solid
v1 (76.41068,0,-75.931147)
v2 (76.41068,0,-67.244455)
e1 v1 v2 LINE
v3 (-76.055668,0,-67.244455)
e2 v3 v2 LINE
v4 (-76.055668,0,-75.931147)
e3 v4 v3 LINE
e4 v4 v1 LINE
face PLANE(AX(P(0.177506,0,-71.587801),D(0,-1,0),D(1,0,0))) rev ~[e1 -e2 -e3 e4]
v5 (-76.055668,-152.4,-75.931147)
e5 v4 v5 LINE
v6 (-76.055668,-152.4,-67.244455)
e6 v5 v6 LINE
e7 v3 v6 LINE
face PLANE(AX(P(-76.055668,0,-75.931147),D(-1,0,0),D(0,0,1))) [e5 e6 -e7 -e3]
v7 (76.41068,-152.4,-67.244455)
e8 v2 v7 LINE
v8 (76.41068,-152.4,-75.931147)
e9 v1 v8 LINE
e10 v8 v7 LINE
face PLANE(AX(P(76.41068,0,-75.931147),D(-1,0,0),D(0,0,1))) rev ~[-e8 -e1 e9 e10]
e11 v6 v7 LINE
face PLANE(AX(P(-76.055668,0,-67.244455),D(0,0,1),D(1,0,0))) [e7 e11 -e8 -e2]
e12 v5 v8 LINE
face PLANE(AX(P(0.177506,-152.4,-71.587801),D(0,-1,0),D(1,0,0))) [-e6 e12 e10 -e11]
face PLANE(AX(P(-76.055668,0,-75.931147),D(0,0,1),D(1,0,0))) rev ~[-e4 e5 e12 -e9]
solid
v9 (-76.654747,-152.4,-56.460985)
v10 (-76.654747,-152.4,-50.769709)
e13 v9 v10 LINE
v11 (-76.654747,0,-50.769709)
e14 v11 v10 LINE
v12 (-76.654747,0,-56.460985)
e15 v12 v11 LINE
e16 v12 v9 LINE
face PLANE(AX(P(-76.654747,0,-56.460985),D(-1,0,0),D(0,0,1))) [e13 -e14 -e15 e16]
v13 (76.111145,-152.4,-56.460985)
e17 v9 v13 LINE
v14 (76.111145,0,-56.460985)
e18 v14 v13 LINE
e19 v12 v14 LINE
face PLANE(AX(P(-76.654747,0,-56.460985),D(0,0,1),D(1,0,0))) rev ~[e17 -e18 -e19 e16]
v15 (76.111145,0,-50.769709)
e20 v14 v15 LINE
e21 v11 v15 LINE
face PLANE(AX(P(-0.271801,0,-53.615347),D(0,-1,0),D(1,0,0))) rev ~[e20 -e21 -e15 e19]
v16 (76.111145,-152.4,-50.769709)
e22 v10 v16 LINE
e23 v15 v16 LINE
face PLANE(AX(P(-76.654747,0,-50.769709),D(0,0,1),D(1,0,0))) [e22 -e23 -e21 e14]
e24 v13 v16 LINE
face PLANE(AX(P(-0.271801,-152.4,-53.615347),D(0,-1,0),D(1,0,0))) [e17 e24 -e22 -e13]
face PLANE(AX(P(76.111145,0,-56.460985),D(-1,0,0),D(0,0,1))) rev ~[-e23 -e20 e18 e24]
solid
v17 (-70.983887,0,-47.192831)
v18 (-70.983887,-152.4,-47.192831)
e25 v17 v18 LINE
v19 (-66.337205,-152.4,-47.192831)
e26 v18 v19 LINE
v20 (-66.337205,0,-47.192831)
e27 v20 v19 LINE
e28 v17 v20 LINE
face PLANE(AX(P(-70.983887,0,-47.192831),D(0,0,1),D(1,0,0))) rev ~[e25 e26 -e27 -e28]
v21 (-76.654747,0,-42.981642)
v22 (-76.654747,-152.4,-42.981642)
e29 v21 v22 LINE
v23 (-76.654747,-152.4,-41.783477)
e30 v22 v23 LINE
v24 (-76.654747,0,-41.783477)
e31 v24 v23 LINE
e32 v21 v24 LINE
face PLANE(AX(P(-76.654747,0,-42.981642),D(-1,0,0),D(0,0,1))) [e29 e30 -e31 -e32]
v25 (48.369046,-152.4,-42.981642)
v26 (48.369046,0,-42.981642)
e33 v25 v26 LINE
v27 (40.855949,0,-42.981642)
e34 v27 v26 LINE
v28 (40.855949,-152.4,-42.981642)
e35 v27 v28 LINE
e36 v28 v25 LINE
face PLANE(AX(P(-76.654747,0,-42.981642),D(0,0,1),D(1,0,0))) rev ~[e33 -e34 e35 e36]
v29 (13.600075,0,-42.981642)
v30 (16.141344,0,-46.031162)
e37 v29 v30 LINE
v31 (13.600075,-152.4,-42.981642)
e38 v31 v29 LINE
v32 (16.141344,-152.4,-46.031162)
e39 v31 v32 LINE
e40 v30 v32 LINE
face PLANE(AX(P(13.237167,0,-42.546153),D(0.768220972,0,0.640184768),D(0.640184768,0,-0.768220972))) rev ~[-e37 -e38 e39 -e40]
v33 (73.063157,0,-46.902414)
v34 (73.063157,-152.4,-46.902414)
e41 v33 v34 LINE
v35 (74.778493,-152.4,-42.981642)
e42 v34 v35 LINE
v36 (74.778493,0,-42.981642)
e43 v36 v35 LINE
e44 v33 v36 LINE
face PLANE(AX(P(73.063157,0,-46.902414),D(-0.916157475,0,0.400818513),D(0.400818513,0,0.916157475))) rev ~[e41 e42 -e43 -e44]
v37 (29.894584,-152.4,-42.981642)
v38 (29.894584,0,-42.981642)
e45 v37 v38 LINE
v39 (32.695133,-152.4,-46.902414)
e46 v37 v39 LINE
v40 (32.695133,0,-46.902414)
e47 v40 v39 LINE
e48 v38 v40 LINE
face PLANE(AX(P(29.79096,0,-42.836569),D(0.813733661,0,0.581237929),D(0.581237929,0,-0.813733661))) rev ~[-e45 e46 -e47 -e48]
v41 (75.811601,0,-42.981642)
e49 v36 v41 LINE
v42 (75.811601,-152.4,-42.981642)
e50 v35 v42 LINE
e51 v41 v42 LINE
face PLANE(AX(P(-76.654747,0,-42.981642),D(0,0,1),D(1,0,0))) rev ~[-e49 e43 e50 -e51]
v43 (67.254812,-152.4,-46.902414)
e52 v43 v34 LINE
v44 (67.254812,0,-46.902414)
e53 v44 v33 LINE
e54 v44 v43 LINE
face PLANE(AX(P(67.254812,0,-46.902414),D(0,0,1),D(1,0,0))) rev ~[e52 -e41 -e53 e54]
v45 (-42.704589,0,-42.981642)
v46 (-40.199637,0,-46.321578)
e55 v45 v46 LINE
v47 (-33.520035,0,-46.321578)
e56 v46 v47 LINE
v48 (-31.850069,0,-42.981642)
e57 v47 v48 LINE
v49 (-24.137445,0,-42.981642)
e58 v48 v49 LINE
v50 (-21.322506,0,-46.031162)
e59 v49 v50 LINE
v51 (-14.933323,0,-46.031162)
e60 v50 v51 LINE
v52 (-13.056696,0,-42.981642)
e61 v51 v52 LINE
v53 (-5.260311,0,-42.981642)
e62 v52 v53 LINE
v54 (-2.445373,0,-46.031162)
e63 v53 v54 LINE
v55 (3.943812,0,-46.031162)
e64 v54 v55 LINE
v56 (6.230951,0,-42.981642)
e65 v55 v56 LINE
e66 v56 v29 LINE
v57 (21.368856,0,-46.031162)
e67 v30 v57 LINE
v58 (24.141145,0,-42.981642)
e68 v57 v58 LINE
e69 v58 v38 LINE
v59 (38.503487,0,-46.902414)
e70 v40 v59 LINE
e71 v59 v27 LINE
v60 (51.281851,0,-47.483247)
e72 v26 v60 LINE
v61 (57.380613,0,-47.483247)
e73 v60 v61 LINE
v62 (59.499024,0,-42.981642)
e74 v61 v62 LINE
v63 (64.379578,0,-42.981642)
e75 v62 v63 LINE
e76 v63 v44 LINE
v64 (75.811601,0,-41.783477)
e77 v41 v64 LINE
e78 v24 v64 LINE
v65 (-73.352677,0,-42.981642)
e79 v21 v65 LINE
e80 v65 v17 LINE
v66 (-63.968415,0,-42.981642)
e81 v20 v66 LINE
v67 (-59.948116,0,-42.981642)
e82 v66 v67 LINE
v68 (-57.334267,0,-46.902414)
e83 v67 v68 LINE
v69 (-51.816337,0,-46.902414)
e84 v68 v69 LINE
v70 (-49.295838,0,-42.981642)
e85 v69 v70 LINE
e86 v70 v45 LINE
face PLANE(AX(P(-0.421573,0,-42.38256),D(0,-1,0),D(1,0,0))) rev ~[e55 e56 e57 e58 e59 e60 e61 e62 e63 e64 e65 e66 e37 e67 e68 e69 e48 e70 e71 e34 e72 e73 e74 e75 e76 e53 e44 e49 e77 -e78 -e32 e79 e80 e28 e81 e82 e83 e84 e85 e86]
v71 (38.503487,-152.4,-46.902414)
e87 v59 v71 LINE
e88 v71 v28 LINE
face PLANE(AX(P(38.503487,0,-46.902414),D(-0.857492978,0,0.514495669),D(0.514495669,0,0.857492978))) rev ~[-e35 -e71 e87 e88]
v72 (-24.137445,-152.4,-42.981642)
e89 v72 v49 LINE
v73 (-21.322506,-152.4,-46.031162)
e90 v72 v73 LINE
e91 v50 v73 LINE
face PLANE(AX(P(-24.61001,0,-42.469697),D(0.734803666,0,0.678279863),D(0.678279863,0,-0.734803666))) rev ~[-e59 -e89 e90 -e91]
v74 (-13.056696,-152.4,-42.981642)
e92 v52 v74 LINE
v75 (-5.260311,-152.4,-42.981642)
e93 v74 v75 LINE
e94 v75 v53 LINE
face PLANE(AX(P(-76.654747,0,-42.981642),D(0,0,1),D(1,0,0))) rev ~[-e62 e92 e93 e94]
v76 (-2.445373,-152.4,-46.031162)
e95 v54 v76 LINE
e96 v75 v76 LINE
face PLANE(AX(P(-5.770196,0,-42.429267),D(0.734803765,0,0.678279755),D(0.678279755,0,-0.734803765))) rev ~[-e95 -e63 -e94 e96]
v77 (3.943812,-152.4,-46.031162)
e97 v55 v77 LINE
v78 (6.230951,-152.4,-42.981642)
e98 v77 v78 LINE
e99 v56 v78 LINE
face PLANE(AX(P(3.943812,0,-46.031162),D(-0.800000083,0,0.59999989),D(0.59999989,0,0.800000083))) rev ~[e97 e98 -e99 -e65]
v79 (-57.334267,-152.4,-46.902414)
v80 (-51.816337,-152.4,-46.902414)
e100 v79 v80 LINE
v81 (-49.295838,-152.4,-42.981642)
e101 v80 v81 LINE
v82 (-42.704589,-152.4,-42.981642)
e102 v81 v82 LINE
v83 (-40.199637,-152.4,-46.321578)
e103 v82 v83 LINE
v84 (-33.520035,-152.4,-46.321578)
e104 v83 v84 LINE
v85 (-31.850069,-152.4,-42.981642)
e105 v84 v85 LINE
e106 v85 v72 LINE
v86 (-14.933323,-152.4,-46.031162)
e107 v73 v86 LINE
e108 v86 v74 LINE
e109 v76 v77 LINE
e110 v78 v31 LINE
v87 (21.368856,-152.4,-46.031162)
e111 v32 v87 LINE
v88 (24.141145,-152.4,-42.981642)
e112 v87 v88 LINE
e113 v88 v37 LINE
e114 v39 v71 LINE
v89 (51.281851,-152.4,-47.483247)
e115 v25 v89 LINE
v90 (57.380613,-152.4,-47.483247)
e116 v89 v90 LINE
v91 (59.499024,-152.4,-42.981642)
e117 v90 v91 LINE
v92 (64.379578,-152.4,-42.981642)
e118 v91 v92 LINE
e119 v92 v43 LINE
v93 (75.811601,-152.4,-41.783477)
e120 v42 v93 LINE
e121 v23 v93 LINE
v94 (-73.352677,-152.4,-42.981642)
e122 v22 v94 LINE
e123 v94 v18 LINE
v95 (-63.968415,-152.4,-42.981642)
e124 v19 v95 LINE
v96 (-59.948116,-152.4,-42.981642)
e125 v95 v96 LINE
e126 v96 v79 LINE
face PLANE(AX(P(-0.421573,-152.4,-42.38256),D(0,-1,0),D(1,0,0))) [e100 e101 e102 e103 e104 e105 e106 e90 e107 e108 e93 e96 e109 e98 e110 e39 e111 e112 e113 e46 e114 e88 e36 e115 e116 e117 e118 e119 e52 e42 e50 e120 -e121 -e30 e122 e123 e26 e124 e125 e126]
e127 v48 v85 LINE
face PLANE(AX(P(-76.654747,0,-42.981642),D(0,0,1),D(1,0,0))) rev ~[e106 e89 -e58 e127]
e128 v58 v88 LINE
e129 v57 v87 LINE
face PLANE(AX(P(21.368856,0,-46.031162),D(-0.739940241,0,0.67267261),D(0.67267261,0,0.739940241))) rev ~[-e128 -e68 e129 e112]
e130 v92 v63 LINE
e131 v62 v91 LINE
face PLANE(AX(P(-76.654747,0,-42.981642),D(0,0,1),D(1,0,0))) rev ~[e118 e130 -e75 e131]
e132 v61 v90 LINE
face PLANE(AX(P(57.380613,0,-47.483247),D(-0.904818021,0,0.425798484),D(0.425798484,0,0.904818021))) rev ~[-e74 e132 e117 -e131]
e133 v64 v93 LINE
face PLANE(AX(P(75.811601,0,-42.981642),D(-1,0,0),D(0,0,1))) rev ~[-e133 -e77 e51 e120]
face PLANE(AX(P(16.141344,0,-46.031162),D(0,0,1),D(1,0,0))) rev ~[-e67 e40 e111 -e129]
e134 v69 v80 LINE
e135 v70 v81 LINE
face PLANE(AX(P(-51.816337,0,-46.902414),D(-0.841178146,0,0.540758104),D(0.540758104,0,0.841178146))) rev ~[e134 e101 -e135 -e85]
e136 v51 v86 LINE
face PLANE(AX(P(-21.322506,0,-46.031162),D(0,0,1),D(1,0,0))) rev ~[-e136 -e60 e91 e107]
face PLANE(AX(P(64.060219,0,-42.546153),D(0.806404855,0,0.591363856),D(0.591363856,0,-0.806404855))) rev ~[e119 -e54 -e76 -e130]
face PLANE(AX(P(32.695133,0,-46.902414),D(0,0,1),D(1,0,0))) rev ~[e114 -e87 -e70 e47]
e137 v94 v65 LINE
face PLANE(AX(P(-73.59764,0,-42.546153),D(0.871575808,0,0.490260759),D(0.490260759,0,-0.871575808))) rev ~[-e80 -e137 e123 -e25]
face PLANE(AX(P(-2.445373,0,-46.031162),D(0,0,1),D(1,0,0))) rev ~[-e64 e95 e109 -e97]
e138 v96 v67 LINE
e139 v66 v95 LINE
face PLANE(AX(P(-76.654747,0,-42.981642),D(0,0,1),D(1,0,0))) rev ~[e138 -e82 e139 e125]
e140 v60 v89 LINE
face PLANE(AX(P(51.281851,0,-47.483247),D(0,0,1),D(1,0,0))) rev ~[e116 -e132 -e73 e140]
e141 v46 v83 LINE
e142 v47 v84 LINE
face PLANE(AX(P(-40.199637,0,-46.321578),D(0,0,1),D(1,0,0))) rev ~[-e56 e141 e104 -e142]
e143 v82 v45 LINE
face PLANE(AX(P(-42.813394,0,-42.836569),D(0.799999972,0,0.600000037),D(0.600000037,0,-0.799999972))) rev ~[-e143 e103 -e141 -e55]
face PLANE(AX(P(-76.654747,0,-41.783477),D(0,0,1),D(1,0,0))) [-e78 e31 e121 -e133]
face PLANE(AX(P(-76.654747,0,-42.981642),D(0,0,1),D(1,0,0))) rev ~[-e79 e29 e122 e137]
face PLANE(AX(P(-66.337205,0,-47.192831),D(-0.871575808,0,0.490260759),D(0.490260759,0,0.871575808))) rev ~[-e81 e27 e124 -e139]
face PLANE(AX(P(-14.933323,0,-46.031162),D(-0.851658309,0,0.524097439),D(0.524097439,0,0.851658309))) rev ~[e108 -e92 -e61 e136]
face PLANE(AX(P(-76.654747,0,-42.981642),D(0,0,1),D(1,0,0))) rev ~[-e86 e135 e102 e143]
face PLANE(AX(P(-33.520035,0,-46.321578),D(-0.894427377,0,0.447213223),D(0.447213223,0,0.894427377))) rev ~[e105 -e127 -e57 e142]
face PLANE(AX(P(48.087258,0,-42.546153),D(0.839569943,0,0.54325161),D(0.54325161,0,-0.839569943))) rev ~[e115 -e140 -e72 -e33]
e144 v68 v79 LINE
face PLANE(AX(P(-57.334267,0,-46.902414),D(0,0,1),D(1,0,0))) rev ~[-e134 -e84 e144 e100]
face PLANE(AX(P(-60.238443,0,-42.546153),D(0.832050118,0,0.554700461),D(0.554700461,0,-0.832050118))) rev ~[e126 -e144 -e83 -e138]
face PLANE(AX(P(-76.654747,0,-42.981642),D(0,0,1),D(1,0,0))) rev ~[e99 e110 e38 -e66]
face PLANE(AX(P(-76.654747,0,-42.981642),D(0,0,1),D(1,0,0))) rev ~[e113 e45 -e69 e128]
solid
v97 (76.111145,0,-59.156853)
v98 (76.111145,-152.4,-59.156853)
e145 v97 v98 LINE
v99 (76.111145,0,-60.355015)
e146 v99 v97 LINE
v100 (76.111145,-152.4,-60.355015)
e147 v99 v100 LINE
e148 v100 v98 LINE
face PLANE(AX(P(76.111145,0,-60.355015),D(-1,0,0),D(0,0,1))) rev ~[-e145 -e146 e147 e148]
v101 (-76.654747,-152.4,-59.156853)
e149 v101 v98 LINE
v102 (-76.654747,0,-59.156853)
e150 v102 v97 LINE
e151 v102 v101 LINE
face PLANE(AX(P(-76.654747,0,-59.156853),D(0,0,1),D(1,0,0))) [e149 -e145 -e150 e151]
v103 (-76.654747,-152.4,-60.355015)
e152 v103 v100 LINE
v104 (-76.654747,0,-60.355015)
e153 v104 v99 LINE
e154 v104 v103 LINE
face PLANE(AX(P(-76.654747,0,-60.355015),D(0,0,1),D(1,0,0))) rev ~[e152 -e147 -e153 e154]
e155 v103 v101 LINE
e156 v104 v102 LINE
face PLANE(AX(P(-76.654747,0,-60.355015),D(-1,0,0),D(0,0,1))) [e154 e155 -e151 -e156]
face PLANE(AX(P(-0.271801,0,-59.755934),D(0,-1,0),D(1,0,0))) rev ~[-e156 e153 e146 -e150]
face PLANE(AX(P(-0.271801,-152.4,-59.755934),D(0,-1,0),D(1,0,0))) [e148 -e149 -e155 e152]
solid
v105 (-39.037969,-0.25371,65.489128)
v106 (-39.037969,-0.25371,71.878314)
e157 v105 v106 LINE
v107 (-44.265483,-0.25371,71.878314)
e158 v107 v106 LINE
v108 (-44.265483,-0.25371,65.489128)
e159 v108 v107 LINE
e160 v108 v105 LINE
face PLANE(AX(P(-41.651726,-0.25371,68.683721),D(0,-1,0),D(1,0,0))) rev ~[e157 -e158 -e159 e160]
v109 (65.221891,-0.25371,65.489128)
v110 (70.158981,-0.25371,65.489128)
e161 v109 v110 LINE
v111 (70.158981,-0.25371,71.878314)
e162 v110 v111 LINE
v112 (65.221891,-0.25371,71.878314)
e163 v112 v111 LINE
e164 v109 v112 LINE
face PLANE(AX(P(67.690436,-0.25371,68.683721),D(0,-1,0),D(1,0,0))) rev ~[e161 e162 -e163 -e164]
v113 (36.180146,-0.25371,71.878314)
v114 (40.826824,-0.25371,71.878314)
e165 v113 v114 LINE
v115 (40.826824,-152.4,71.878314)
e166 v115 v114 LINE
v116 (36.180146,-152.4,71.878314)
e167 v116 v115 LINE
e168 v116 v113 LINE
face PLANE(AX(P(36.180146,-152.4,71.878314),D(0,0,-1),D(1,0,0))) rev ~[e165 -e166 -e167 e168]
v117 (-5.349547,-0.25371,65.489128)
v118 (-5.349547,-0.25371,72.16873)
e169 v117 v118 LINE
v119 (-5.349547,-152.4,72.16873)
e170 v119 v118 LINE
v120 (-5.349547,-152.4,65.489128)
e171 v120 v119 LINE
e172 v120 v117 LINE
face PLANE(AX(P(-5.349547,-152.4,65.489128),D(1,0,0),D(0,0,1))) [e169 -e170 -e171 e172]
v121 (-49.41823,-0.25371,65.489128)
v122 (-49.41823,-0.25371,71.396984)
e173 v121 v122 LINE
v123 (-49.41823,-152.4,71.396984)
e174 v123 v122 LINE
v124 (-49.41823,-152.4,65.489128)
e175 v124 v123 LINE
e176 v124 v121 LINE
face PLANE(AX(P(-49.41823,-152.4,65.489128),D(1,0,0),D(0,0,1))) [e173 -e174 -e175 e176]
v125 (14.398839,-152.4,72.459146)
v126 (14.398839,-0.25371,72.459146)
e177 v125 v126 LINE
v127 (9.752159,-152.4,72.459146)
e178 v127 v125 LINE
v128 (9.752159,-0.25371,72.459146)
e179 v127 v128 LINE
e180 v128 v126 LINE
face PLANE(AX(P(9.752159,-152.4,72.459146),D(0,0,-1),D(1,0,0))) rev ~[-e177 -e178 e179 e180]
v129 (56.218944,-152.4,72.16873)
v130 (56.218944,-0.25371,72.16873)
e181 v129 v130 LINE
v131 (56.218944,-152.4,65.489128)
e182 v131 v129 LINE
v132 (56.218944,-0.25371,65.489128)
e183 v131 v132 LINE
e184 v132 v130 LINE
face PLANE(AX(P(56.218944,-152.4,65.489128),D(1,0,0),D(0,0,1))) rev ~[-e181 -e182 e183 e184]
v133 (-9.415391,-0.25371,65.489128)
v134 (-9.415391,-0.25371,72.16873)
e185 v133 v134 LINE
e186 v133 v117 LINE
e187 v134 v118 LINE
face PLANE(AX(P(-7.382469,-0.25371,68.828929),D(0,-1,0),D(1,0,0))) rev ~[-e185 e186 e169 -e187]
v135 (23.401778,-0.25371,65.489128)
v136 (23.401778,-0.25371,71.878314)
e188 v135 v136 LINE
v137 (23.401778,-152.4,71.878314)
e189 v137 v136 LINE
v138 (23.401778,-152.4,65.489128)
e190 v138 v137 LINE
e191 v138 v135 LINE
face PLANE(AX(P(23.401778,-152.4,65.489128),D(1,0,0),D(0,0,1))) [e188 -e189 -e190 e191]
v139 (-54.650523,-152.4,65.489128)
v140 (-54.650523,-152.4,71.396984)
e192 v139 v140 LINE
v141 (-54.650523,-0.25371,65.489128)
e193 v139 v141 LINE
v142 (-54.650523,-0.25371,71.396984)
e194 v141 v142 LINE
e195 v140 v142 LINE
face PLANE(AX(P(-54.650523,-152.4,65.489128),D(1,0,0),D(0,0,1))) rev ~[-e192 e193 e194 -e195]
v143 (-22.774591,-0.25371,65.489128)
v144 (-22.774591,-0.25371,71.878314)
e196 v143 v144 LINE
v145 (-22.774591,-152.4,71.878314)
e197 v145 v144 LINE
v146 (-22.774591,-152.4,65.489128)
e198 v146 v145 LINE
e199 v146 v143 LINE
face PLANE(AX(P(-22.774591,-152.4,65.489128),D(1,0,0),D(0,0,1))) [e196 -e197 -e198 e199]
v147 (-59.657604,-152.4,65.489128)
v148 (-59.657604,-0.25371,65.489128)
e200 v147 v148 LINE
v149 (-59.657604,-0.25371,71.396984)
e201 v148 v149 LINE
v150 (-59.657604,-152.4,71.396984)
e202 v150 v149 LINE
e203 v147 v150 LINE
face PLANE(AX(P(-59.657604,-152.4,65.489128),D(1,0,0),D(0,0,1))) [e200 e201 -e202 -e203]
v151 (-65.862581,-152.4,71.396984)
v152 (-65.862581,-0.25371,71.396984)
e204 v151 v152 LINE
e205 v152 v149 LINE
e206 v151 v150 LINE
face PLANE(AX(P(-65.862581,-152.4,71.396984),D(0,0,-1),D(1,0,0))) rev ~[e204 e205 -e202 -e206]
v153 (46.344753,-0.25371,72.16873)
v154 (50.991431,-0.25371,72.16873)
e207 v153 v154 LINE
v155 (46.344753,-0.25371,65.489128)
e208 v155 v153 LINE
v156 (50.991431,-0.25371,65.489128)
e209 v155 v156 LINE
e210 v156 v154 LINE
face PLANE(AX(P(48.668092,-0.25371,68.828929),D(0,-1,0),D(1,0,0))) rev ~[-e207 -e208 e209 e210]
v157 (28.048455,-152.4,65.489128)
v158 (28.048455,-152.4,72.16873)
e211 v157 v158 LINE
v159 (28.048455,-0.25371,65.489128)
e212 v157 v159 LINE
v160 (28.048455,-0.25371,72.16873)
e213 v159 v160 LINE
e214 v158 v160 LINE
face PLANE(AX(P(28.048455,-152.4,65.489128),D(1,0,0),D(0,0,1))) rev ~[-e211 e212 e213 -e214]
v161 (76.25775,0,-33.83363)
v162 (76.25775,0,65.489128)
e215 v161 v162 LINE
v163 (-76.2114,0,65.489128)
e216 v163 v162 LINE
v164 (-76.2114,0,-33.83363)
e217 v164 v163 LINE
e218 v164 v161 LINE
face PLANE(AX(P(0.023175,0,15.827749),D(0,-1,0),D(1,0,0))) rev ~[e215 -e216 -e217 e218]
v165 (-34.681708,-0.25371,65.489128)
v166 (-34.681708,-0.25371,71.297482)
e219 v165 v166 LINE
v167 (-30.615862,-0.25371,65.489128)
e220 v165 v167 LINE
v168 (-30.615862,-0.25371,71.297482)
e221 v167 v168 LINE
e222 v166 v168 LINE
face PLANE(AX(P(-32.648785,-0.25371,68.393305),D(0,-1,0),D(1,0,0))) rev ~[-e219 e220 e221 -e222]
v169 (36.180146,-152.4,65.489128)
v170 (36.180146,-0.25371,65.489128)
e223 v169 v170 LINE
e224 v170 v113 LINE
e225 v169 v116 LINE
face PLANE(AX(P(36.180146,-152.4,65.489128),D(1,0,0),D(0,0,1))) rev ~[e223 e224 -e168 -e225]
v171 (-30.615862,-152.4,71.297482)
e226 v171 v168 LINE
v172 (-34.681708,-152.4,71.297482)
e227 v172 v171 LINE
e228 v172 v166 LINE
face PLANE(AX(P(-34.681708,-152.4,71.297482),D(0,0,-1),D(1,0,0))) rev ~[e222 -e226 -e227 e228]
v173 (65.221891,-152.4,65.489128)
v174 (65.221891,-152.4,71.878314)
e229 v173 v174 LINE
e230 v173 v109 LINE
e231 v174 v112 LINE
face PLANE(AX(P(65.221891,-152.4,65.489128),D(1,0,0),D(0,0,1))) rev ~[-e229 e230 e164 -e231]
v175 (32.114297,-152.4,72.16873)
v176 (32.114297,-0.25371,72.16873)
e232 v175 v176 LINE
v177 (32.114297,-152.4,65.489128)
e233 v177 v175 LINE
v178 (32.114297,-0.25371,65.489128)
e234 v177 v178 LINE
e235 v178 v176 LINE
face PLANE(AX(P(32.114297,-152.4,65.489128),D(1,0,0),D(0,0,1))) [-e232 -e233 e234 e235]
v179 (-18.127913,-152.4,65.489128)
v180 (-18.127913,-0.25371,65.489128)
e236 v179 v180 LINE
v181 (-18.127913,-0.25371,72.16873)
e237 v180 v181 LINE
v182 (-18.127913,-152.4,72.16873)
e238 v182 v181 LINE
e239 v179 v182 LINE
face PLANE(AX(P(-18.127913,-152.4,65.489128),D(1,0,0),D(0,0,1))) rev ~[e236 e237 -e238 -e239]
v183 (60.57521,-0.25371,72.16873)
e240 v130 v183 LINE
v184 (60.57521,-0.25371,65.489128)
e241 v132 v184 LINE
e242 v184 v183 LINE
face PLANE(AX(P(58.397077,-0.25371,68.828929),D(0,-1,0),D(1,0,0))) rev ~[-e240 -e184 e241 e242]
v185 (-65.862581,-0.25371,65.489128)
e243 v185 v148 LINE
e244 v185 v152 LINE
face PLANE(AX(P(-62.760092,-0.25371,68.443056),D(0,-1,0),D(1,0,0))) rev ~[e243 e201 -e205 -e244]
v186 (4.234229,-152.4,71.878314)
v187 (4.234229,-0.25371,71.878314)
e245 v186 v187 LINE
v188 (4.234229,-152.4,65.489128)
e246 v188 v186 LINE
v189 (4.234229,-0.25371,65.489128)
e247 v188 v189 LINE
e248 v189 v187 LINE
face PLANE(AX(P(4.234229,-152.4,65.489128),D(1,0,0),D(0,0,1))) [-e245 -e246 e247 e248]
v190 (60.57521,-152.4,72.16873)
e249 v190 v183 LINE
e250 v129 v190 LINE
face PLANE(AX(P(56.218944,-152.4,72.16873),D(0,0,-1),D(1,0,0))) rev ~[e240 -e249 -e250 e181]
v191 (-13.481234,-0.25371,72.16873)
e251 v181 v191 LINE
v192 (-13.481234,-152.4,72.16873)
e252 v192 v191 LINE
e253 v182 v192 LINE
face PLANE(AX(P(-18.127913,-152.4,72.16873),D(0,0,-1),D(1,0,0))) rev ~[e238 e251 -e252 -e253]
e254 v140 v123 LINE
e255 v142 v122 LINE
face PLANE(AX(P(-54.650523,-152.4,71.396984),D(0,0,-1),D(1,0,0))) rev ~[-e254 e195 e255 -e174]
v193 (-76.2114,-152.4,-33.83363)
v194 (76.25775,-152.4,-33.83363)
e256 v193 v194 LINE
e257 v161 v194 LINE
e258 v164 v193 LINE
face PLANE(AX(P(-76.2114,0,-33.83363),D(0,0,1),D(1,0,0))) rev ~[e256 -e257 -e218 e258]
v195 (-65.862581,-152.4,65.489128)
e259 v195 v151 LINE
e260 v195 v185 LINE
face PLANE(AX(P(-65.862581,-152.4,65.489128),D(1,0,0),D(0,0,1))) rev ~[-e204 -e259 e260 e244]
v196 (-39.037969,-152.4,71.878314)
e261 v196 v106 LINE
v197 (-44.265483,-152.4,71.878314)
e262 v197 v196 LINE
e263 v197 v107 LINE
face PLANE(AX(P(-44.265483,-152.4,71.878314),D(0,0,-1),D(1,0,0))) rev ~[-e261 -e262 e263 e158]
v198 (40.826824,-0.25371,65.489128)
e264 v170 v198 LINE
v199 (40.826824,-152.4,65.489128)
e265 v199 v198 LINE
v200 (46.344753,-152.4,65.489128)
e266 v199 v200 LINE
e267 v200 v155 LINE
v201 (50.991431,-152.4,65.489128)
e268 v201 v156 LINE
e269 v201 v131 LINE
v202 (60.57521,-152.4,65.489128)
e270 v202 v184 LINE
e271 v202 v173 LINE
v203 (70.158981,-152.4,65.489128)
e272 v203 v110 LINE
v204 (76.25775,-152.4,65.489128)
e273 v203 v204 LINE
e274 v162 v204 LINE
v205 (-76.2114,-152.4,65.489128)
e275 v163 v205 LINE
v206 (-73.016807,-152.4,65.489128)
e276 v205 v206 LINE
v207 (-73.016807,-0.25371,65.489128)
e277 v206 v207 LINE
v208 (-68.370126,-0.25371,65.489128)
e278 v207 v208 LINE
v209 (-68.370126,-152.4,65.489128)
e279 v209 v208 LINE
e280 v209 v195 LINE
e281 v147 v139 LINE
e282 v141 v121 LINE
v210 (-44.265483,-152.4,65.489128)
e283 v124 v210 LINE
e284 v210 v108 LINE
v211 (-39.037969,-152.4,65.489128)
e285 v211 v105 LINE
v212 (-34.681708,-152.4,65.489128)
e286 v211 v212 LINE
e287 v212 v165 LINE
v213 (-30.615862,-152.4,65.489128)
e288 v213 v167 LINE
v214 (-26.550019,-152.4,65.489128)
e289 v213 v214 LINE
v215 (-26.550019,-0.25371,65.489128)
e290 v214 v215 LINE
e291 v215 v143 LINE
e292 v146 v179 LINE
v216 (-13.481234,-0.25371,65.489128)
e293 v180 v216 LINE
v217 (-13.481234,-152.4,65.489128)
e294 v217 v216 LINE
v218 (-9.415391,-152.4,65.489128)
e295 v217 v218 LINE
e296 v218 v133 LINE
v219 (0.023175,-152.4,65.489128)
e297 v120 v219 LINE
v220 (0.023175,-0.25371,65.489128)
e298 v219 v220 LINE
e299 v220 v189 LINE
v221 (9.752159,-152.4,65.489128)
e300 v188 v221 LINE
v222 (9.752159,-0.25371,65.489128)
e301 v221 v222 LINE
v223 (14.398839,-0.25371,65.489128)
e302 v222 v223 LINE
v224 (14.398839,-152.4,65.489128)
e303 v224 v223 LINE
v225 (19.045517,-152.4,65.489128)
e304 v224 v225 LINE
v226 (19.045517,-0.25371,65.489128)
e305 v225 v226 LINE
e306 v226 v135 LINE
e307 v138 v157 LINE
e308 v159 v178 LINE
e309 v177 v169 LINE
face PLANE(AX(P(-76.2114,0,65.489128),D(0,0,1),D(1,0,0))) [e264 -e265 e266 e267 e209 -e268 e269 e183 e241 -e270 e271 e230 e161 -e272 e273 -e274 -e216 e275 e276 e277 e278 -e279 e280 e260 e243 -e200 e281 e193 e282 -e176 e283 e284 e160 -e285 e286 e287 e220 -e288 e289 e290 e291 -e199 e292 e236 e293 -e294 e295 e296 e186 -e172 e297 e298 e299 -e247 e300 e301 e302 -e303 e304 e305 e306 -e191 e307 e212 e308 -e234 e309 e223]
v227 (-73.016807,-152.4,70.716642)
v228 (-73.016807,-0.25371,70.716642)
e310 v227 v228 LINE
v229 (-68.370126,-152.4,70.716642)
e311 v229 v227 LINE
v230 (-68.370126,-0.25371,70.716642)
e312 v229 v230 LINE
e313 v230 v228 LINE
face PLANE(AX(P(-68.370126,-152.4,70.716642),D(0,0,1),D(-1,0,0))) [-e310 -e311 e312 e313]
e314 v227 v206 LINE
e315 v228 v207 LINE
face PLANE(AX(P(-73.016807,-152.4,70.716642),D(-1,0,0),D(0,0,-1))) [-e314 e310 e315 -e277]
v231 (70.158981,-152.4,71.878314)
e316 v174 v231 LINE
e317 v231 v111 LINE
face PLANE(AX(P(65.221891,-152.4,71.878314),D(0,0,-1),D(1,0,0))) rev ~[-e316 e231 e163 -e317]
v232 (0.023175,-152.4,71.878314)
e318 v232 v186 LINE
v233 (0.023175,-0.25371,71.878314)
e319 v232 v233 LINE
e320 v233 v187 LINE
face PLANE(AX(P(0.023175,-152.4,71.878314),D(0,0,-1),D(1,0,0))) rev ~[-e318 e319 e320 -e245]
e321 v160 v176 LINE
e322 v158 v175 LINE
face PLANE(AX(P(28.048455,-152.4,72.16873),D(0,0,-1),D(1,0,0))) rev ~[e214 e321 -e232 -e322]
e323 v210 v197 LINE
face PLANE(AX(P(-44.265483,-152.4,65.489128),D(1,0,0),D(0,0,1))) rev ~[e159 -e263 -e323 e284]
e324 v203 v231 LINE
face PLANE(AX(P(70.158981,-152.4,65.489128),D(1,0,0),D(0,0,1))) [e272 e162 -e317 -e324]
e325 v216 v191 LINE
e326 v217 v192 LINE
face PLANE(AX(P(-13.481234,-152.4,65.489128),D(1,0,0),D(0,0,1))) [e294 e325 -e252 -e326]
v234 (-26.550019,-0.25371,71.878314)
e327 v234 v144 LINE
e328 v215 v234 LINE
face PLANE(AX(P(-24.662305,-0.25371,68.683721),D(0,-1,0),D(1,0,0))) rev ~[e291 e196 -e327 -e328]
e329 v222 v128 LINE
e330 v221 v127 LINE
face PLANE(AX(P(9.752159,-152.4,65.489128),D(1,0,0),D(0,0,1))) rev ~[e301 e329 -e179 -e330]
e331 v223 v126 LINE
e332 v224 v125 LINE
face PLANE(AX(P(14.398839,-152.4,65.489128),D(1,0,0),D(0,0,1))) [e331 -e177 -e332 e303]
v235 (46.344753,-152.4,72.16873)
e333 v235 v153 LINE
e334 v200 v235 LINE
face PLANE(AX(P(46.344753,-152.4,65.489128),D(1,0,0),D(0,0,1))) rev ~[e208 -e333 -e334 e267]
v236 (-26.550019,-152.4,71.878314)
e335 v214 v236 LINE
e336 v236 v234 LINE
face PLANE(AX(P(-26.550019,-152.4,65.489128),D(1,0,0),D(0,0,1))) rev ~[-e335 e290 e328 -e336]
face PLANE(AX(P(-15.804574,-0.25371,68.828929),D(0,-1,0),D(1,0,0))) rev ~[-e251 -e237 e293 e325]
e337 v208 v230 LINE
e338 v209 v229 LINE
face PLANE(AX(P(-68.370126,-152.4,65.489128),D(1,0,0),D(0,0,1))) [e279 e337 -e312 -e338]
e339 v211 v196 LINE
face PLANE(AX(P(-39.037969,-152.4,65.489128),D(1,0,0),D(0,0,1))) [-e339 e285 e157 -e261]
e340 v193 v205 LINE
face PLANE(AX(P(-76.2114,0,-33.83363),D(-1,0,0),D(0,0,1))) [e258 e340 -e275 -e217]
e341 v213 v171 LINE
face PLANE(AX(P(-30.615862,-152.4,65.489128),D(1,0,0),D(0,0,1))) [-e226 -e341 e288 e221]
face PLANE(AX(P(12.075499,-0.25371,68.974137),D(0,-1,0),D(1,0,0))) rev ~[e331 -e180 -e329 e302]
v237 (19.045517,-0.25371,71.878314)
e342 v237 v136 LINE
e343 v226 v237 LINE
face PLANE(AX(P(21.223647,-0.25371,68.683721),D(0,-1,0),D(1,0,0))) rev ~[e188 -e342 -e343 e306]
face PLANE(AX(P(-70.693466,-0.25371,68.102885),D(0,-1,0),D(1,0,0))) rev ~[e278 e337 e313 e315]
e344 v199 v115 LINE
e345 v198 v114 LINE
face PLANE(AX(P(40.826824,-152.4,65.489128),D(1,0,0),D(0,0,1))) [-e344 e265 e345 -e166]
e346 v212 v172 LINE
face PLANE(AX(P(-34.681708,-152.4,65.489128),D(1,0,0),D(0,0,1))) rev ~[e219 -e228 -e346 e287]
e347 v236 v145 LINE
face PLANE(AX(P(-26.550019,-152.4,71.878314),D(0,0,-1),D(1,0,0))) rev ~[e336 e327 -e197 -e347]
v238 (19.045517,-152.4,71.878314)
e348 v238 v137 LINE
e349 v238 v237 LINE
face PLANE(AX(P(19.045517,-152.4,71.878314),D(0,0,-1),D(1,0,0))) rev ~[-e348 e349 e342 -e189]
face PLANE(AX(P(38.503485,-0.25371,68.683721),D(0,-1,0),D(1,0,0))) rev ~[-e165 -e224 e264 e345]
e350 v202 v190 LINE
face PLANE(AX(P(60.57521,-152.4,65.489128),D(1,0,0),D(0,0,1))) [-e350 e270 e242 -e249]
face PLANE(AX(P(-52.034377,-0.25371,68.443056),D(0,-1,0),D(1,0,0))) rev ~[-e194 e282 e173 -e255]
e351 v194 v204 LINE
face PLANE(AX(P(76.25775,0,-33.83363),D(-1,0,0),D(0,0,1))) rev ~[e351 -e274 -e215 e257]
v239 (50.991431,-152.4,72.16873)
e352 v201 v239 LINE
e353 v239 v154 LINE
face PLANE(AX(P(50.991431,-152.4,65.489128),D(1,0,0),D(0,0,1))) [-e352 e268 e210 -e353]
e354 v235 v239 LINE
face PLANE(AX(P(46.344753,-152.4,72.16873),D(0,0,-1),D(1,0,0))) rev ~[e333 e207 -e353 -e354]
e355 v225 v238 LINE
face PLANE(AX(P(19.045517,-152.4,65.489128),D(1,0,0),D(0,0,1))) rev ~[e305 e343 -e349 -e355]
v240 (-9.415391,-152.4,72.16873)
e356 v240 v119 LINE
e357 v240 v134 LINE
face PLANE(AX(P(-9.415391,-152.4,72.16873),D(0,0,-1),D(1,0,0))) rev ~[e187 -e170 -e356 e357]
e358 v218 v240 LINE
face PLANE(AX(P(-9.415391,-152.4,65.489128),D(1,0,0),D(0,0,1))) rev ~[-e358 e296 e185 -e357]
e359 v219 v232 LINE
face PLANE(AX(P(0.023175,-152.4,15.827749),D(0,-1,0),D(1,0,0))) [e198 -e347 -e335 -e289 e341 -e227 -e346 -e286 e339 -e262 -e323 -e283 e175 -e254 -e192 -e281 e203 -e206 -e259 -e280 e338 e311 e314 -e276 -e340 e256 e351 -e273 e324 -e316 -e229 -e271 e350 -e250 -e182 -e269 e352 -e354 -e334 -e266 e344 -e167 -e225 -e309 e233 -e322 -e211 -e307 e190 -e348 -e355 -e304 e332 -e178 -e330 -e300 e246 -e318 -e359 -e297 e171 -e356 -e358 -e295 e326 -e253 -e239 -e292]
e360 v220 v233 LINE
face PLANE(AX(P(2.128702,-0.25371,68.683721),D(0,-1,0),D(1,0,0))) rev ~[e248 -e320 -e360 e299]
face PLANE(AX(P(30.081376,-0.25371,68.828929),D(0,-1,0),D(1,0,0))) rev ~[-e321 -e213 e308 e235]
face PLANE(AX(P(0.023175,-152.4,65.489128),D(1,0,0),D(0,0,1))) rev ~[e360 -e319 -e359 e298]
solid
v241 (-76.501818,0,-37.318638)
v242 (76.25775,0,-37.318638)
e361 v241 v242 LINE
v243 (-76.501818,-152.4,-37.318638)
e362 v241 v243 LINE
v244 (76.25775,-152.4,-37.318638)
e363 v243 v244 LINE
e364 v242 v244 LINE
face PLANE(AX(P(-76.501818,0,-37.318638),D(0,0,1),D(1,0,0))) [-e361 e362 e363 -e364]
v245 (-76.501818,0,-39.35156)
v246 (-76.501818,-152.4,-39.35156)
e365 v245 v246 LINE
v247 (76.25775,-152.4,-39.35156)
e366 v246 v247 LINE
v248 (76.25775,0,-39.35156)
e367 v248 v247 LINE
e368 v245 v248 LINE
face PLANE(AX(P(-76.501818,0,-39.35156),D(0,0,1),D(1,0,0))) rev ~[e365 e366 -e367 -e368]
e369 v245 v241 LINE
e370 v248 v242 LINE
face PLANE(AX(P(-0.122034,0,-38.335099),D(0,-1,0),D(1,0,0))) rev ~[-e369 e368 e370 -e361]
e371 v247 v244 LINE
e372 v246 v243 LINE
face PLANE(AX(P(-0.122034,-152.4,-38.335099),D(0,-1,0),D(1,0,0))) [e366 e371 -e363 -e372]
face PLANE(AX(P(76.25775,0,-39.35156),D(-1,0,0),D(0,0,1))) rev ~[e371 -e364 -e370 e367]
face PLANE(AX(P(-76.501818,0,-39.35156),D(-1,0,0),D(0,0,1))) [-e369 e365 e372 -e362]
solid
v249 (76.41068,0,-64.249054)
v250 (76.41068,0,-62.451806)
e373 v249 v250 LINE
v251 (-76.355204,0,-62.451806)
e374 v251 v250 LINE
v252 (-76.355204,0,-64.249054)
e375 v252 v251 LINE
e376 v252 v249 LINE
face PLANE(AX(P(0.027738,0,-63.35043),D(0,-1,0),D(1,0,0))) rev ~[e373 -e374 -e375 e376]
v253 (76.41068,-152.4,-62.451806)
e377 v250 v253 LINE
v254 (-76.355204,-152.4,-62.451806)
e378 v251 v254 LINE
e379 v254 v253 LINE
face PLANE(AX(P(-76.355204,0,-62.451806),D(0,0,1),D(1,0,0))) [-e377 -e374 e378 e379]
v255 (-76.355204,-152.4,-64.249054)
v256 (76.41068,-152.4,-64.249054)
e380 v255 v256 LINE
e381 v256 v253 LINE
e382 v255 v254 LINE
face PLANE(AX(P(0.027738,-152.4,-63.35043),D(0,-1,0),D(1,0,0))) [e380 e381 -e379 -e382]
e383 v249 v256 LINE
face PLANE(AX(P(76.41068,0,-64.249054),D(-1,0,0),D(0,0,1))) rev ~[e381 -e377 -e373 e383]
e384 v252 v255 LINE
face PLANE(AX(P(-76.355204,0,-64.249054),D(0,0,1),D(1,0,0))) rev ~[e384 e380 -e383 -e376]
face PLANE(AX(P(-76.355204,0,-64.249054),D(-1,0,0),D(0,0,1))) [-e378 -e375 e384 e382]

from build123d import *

# Parameters (mm, degrees)
F0_W      = 152.466349
F0_H      = 8.686692
F1_DEPTH  = 152.4
F2_W      = 152.765885
F2_H      = 1.797248
F3_DEPTH  = 152.4
F4_W      = 152.765892
F4_H      = 1.198161
F5_DEPTH  = 152.4
F6_W      = 152.765892
F6_H      = 5.691275
F7_DEPTH  = 152.4
F8_W      = 152.466349
F8_H      = 1.198165
F9_DEPTH  = 152.4
F10_W     = 152.759567
F10_H     = 2.032921
F11_DEPTH = 152.4
F12_W     = 152.46915
F12_H     = 99.322758
F13_DEPTH = 152.4
F15_DEPTH = 152.4
F17_DEPTH = 152.4
F18_W     = 4.93709
F18_H     = 6.389186
F18_W_2   = 4.356266
F18_H_2   = 6.679602
F18_W_3   = 4.646678
F18_W_4   = 4.065841
F18_W_5   = 4.356261
F18_W_6   = 4.64668
F18_H_3   = 6.970018
F18_W_7   = 4.211054
F18_W_8   = 4.065844
F18_W_9   = 4.646679
F18_W_10  = 3.775427
F18_W_11  = 4.065846
F18_H_4   = 5.808354
F18_W_12  = 5.227514
F18_W_13  = 5.232293
F18_H_5   = 5.907856
F18_W_14  = 6.204977
F19_DEPTH = 152.14629


with BuildPart() as f1:
    # F0 (on Front) → F1 (new body)
    with BuildSketch(Plane.XZ):
        with Locations((0.177506, -71.587801)):
            Rectangle(F0_W, F0_H)
    extrude(amount=F1_DEPTH)


with BuildPart() as f3:
    # F2 (on Front) → F3 (new body)
    with BuildSketch(Plane.XZ):
        with Locations((0.027738, -63.35043)):
            Rectangle(F2_W, F2_H)
    extrude(amount=F3_DEPTH)


with BuildPart() as f5:
    # F4 (on Front) → F5 (new body)
    with BuildSketch(Plane.XZ):
        with Locations((-0.271801, -59.755934)):
            Rectangle(F4_W, F4_H)
    extrude(amount=F5_DEPTH)


with BuildPart() as f7:
    # F6 (on Front) → F7 (new body)
    with BuildSketch(Plane.XZ):
        with Locations((-0.271801, -53.615347)):
            Rectangle(F6_W, F6_H)
    extrude(amount=F7_DEPTH)


with BuildPart() as f9:
    # F8 (on Front) → F9 (new body)
    with BuildSketch(Plane.XZ):
        with Locations((-0.421573, -42.38256)):
            Rectangle(F8_W, F8_H)
    extrude(amount=F9_DEPTH)

    # F14 (on Front) → F15 (join)
    with BuildSketch(Plane.XZ):
        Polygon((-73.59764, -42.546153), (-70.983887, -47.192831), (-66.337205, -47.192831), (-63.723452, -42.546153), align=None)
    extrude(amount=F15_DEPTH)

    # F16 (on Front) → F17 (join)
    with BuildSketch(Plane.XZ):
        Polygon((-31.601598, -42.4847), (-60.238443, -42.546153), (-57.334267, -46.902414), (-51.816337, -46.902414), (-49.202576, -42.836569), (-42.813394, -42.836569), (-40.199637, -46.321578), (-33.520035, -46.321578), align=None)
        Polygon((75.096078, -42.255733), (-5.770196, -42.429267), (-2.445373, -46.031162), (3.943812, -46.031162), (6.557568, -42.546153), (13.237167, -42.546153), (16.141344, -46.031162), (21.368856, -46.031162), (24.27303, -42.836569), (29.79096, -42.836569), (32.695133, -46.902414), (38.503487, -46.902414), (41.117243, -42.546153), (48.087258, -42.546153), (51.281851, -47.483247), (57.380613, -47.483247), (59.703961, -42.546153), (64.060219, -42.546153), (67.254812, -46.902414), (73.063157, -46.902414), align=None)
        Polygon((-12.609982, -42.255733), (-12.725958, -42.444194), (-5.770196, -42.429267), (-5.930381, -42.255733), align=None)
        Polygon((-12.725958, -42.444194), (-24.61001, -42.469697), (-21.322506, -46.031162), (-14.933323, -46.031162), align=None)
        Polygon((-31.487115, -42.255733), (-31.601598, -42.4847), (-24.61001, -42.469697), (-24.807515, -42.255733), align=None)
    extrude(amount=F17_DEPTH)


with BuildPart() as f11:
    # F10 (on Front) → F11 (new body)
    with BuildSketch(Plane.XZ):
        with Locations((-0.122034, -38.335099)):
            Rectangle(F10_W, F10_H)
    extrude(amount=F11_DEPTH)


with BuildPart() as f13:
    # F12 (on Front) → F13 (new body)
    with BuildSketch(Plane.XZ):
        with Locations((0.023175, 15.827749)):
            Rectangle(F12_W, F12_H)
    extrude(amount=F13_DEPTH)

    # F18 (on face) → F19 (join)
    with BuildSketch(Plane.XZ.offset(152.4)):
        with Locations((67.690436, 68.683721)):
            Rectangle(F18_W, F18_H)
        with Locations((58.397077, 68.828929)):
            Rectangle(F18_W_2, F18_H_2)
        with Locations((48.668092, 68.828929)):
            Rectangle(F18_W_3, F18_H_2)
        with Locations((38.503485, 68.683721)):
            Rectangle(F18_W_3, F18_H)
        with Locations((30.081376, 68.828929)):
            Rectangle(F18_W_4, F18_H_2)
        with Locations((21.223647, 68.683721)):
            Rectangle(F18_W_5, F18_H)
        with Locations((12.075499, 68.974137)):
            Rectangle(F18_W_6, F18_H_3)
        with Locations((2.128702, 68.683721)):
            Rectangle(F18_W_7, F18_H)
        with Locations((-7.382469, 68.828929)):
            Rectangle(F18_W_8, F18_H_2)
        with Locations((-15.804574, 68.828929)):
            Rectangle(F18_W_9, F18_H_2)
        with Locations((-24.662305, 68.683721)):
            Rectangle(F18_W_10, F18_H)
        with Locations((-32.648785, 68.393305)):
            Rectangle(F18_W_11, F18_H_4)
        with Locations((-41.651726, 68.683721)):
            Rectangle(F18_W_12, F18_H)
        with Locations((-52.034377, 68.443056)):
            Rectangle(F18_W_13, F18_H_5)
        with Locations((-62.760092, 68.443056)):
            Rectangle(F18_W_14, F18_H_5)
        Polygon((-73.016807, 70.716642), (-73.016807, 65.489128), (-68.405047, 65.489128), (-68.370126, 65.489128), (-68.370126, 70.716642), align=None)
    extrude(amount=-F19_DEPTH)


solid = Compound([f1.part, f3.part, f5.part, f7.part, f9.part, f11.part, f13.part])
